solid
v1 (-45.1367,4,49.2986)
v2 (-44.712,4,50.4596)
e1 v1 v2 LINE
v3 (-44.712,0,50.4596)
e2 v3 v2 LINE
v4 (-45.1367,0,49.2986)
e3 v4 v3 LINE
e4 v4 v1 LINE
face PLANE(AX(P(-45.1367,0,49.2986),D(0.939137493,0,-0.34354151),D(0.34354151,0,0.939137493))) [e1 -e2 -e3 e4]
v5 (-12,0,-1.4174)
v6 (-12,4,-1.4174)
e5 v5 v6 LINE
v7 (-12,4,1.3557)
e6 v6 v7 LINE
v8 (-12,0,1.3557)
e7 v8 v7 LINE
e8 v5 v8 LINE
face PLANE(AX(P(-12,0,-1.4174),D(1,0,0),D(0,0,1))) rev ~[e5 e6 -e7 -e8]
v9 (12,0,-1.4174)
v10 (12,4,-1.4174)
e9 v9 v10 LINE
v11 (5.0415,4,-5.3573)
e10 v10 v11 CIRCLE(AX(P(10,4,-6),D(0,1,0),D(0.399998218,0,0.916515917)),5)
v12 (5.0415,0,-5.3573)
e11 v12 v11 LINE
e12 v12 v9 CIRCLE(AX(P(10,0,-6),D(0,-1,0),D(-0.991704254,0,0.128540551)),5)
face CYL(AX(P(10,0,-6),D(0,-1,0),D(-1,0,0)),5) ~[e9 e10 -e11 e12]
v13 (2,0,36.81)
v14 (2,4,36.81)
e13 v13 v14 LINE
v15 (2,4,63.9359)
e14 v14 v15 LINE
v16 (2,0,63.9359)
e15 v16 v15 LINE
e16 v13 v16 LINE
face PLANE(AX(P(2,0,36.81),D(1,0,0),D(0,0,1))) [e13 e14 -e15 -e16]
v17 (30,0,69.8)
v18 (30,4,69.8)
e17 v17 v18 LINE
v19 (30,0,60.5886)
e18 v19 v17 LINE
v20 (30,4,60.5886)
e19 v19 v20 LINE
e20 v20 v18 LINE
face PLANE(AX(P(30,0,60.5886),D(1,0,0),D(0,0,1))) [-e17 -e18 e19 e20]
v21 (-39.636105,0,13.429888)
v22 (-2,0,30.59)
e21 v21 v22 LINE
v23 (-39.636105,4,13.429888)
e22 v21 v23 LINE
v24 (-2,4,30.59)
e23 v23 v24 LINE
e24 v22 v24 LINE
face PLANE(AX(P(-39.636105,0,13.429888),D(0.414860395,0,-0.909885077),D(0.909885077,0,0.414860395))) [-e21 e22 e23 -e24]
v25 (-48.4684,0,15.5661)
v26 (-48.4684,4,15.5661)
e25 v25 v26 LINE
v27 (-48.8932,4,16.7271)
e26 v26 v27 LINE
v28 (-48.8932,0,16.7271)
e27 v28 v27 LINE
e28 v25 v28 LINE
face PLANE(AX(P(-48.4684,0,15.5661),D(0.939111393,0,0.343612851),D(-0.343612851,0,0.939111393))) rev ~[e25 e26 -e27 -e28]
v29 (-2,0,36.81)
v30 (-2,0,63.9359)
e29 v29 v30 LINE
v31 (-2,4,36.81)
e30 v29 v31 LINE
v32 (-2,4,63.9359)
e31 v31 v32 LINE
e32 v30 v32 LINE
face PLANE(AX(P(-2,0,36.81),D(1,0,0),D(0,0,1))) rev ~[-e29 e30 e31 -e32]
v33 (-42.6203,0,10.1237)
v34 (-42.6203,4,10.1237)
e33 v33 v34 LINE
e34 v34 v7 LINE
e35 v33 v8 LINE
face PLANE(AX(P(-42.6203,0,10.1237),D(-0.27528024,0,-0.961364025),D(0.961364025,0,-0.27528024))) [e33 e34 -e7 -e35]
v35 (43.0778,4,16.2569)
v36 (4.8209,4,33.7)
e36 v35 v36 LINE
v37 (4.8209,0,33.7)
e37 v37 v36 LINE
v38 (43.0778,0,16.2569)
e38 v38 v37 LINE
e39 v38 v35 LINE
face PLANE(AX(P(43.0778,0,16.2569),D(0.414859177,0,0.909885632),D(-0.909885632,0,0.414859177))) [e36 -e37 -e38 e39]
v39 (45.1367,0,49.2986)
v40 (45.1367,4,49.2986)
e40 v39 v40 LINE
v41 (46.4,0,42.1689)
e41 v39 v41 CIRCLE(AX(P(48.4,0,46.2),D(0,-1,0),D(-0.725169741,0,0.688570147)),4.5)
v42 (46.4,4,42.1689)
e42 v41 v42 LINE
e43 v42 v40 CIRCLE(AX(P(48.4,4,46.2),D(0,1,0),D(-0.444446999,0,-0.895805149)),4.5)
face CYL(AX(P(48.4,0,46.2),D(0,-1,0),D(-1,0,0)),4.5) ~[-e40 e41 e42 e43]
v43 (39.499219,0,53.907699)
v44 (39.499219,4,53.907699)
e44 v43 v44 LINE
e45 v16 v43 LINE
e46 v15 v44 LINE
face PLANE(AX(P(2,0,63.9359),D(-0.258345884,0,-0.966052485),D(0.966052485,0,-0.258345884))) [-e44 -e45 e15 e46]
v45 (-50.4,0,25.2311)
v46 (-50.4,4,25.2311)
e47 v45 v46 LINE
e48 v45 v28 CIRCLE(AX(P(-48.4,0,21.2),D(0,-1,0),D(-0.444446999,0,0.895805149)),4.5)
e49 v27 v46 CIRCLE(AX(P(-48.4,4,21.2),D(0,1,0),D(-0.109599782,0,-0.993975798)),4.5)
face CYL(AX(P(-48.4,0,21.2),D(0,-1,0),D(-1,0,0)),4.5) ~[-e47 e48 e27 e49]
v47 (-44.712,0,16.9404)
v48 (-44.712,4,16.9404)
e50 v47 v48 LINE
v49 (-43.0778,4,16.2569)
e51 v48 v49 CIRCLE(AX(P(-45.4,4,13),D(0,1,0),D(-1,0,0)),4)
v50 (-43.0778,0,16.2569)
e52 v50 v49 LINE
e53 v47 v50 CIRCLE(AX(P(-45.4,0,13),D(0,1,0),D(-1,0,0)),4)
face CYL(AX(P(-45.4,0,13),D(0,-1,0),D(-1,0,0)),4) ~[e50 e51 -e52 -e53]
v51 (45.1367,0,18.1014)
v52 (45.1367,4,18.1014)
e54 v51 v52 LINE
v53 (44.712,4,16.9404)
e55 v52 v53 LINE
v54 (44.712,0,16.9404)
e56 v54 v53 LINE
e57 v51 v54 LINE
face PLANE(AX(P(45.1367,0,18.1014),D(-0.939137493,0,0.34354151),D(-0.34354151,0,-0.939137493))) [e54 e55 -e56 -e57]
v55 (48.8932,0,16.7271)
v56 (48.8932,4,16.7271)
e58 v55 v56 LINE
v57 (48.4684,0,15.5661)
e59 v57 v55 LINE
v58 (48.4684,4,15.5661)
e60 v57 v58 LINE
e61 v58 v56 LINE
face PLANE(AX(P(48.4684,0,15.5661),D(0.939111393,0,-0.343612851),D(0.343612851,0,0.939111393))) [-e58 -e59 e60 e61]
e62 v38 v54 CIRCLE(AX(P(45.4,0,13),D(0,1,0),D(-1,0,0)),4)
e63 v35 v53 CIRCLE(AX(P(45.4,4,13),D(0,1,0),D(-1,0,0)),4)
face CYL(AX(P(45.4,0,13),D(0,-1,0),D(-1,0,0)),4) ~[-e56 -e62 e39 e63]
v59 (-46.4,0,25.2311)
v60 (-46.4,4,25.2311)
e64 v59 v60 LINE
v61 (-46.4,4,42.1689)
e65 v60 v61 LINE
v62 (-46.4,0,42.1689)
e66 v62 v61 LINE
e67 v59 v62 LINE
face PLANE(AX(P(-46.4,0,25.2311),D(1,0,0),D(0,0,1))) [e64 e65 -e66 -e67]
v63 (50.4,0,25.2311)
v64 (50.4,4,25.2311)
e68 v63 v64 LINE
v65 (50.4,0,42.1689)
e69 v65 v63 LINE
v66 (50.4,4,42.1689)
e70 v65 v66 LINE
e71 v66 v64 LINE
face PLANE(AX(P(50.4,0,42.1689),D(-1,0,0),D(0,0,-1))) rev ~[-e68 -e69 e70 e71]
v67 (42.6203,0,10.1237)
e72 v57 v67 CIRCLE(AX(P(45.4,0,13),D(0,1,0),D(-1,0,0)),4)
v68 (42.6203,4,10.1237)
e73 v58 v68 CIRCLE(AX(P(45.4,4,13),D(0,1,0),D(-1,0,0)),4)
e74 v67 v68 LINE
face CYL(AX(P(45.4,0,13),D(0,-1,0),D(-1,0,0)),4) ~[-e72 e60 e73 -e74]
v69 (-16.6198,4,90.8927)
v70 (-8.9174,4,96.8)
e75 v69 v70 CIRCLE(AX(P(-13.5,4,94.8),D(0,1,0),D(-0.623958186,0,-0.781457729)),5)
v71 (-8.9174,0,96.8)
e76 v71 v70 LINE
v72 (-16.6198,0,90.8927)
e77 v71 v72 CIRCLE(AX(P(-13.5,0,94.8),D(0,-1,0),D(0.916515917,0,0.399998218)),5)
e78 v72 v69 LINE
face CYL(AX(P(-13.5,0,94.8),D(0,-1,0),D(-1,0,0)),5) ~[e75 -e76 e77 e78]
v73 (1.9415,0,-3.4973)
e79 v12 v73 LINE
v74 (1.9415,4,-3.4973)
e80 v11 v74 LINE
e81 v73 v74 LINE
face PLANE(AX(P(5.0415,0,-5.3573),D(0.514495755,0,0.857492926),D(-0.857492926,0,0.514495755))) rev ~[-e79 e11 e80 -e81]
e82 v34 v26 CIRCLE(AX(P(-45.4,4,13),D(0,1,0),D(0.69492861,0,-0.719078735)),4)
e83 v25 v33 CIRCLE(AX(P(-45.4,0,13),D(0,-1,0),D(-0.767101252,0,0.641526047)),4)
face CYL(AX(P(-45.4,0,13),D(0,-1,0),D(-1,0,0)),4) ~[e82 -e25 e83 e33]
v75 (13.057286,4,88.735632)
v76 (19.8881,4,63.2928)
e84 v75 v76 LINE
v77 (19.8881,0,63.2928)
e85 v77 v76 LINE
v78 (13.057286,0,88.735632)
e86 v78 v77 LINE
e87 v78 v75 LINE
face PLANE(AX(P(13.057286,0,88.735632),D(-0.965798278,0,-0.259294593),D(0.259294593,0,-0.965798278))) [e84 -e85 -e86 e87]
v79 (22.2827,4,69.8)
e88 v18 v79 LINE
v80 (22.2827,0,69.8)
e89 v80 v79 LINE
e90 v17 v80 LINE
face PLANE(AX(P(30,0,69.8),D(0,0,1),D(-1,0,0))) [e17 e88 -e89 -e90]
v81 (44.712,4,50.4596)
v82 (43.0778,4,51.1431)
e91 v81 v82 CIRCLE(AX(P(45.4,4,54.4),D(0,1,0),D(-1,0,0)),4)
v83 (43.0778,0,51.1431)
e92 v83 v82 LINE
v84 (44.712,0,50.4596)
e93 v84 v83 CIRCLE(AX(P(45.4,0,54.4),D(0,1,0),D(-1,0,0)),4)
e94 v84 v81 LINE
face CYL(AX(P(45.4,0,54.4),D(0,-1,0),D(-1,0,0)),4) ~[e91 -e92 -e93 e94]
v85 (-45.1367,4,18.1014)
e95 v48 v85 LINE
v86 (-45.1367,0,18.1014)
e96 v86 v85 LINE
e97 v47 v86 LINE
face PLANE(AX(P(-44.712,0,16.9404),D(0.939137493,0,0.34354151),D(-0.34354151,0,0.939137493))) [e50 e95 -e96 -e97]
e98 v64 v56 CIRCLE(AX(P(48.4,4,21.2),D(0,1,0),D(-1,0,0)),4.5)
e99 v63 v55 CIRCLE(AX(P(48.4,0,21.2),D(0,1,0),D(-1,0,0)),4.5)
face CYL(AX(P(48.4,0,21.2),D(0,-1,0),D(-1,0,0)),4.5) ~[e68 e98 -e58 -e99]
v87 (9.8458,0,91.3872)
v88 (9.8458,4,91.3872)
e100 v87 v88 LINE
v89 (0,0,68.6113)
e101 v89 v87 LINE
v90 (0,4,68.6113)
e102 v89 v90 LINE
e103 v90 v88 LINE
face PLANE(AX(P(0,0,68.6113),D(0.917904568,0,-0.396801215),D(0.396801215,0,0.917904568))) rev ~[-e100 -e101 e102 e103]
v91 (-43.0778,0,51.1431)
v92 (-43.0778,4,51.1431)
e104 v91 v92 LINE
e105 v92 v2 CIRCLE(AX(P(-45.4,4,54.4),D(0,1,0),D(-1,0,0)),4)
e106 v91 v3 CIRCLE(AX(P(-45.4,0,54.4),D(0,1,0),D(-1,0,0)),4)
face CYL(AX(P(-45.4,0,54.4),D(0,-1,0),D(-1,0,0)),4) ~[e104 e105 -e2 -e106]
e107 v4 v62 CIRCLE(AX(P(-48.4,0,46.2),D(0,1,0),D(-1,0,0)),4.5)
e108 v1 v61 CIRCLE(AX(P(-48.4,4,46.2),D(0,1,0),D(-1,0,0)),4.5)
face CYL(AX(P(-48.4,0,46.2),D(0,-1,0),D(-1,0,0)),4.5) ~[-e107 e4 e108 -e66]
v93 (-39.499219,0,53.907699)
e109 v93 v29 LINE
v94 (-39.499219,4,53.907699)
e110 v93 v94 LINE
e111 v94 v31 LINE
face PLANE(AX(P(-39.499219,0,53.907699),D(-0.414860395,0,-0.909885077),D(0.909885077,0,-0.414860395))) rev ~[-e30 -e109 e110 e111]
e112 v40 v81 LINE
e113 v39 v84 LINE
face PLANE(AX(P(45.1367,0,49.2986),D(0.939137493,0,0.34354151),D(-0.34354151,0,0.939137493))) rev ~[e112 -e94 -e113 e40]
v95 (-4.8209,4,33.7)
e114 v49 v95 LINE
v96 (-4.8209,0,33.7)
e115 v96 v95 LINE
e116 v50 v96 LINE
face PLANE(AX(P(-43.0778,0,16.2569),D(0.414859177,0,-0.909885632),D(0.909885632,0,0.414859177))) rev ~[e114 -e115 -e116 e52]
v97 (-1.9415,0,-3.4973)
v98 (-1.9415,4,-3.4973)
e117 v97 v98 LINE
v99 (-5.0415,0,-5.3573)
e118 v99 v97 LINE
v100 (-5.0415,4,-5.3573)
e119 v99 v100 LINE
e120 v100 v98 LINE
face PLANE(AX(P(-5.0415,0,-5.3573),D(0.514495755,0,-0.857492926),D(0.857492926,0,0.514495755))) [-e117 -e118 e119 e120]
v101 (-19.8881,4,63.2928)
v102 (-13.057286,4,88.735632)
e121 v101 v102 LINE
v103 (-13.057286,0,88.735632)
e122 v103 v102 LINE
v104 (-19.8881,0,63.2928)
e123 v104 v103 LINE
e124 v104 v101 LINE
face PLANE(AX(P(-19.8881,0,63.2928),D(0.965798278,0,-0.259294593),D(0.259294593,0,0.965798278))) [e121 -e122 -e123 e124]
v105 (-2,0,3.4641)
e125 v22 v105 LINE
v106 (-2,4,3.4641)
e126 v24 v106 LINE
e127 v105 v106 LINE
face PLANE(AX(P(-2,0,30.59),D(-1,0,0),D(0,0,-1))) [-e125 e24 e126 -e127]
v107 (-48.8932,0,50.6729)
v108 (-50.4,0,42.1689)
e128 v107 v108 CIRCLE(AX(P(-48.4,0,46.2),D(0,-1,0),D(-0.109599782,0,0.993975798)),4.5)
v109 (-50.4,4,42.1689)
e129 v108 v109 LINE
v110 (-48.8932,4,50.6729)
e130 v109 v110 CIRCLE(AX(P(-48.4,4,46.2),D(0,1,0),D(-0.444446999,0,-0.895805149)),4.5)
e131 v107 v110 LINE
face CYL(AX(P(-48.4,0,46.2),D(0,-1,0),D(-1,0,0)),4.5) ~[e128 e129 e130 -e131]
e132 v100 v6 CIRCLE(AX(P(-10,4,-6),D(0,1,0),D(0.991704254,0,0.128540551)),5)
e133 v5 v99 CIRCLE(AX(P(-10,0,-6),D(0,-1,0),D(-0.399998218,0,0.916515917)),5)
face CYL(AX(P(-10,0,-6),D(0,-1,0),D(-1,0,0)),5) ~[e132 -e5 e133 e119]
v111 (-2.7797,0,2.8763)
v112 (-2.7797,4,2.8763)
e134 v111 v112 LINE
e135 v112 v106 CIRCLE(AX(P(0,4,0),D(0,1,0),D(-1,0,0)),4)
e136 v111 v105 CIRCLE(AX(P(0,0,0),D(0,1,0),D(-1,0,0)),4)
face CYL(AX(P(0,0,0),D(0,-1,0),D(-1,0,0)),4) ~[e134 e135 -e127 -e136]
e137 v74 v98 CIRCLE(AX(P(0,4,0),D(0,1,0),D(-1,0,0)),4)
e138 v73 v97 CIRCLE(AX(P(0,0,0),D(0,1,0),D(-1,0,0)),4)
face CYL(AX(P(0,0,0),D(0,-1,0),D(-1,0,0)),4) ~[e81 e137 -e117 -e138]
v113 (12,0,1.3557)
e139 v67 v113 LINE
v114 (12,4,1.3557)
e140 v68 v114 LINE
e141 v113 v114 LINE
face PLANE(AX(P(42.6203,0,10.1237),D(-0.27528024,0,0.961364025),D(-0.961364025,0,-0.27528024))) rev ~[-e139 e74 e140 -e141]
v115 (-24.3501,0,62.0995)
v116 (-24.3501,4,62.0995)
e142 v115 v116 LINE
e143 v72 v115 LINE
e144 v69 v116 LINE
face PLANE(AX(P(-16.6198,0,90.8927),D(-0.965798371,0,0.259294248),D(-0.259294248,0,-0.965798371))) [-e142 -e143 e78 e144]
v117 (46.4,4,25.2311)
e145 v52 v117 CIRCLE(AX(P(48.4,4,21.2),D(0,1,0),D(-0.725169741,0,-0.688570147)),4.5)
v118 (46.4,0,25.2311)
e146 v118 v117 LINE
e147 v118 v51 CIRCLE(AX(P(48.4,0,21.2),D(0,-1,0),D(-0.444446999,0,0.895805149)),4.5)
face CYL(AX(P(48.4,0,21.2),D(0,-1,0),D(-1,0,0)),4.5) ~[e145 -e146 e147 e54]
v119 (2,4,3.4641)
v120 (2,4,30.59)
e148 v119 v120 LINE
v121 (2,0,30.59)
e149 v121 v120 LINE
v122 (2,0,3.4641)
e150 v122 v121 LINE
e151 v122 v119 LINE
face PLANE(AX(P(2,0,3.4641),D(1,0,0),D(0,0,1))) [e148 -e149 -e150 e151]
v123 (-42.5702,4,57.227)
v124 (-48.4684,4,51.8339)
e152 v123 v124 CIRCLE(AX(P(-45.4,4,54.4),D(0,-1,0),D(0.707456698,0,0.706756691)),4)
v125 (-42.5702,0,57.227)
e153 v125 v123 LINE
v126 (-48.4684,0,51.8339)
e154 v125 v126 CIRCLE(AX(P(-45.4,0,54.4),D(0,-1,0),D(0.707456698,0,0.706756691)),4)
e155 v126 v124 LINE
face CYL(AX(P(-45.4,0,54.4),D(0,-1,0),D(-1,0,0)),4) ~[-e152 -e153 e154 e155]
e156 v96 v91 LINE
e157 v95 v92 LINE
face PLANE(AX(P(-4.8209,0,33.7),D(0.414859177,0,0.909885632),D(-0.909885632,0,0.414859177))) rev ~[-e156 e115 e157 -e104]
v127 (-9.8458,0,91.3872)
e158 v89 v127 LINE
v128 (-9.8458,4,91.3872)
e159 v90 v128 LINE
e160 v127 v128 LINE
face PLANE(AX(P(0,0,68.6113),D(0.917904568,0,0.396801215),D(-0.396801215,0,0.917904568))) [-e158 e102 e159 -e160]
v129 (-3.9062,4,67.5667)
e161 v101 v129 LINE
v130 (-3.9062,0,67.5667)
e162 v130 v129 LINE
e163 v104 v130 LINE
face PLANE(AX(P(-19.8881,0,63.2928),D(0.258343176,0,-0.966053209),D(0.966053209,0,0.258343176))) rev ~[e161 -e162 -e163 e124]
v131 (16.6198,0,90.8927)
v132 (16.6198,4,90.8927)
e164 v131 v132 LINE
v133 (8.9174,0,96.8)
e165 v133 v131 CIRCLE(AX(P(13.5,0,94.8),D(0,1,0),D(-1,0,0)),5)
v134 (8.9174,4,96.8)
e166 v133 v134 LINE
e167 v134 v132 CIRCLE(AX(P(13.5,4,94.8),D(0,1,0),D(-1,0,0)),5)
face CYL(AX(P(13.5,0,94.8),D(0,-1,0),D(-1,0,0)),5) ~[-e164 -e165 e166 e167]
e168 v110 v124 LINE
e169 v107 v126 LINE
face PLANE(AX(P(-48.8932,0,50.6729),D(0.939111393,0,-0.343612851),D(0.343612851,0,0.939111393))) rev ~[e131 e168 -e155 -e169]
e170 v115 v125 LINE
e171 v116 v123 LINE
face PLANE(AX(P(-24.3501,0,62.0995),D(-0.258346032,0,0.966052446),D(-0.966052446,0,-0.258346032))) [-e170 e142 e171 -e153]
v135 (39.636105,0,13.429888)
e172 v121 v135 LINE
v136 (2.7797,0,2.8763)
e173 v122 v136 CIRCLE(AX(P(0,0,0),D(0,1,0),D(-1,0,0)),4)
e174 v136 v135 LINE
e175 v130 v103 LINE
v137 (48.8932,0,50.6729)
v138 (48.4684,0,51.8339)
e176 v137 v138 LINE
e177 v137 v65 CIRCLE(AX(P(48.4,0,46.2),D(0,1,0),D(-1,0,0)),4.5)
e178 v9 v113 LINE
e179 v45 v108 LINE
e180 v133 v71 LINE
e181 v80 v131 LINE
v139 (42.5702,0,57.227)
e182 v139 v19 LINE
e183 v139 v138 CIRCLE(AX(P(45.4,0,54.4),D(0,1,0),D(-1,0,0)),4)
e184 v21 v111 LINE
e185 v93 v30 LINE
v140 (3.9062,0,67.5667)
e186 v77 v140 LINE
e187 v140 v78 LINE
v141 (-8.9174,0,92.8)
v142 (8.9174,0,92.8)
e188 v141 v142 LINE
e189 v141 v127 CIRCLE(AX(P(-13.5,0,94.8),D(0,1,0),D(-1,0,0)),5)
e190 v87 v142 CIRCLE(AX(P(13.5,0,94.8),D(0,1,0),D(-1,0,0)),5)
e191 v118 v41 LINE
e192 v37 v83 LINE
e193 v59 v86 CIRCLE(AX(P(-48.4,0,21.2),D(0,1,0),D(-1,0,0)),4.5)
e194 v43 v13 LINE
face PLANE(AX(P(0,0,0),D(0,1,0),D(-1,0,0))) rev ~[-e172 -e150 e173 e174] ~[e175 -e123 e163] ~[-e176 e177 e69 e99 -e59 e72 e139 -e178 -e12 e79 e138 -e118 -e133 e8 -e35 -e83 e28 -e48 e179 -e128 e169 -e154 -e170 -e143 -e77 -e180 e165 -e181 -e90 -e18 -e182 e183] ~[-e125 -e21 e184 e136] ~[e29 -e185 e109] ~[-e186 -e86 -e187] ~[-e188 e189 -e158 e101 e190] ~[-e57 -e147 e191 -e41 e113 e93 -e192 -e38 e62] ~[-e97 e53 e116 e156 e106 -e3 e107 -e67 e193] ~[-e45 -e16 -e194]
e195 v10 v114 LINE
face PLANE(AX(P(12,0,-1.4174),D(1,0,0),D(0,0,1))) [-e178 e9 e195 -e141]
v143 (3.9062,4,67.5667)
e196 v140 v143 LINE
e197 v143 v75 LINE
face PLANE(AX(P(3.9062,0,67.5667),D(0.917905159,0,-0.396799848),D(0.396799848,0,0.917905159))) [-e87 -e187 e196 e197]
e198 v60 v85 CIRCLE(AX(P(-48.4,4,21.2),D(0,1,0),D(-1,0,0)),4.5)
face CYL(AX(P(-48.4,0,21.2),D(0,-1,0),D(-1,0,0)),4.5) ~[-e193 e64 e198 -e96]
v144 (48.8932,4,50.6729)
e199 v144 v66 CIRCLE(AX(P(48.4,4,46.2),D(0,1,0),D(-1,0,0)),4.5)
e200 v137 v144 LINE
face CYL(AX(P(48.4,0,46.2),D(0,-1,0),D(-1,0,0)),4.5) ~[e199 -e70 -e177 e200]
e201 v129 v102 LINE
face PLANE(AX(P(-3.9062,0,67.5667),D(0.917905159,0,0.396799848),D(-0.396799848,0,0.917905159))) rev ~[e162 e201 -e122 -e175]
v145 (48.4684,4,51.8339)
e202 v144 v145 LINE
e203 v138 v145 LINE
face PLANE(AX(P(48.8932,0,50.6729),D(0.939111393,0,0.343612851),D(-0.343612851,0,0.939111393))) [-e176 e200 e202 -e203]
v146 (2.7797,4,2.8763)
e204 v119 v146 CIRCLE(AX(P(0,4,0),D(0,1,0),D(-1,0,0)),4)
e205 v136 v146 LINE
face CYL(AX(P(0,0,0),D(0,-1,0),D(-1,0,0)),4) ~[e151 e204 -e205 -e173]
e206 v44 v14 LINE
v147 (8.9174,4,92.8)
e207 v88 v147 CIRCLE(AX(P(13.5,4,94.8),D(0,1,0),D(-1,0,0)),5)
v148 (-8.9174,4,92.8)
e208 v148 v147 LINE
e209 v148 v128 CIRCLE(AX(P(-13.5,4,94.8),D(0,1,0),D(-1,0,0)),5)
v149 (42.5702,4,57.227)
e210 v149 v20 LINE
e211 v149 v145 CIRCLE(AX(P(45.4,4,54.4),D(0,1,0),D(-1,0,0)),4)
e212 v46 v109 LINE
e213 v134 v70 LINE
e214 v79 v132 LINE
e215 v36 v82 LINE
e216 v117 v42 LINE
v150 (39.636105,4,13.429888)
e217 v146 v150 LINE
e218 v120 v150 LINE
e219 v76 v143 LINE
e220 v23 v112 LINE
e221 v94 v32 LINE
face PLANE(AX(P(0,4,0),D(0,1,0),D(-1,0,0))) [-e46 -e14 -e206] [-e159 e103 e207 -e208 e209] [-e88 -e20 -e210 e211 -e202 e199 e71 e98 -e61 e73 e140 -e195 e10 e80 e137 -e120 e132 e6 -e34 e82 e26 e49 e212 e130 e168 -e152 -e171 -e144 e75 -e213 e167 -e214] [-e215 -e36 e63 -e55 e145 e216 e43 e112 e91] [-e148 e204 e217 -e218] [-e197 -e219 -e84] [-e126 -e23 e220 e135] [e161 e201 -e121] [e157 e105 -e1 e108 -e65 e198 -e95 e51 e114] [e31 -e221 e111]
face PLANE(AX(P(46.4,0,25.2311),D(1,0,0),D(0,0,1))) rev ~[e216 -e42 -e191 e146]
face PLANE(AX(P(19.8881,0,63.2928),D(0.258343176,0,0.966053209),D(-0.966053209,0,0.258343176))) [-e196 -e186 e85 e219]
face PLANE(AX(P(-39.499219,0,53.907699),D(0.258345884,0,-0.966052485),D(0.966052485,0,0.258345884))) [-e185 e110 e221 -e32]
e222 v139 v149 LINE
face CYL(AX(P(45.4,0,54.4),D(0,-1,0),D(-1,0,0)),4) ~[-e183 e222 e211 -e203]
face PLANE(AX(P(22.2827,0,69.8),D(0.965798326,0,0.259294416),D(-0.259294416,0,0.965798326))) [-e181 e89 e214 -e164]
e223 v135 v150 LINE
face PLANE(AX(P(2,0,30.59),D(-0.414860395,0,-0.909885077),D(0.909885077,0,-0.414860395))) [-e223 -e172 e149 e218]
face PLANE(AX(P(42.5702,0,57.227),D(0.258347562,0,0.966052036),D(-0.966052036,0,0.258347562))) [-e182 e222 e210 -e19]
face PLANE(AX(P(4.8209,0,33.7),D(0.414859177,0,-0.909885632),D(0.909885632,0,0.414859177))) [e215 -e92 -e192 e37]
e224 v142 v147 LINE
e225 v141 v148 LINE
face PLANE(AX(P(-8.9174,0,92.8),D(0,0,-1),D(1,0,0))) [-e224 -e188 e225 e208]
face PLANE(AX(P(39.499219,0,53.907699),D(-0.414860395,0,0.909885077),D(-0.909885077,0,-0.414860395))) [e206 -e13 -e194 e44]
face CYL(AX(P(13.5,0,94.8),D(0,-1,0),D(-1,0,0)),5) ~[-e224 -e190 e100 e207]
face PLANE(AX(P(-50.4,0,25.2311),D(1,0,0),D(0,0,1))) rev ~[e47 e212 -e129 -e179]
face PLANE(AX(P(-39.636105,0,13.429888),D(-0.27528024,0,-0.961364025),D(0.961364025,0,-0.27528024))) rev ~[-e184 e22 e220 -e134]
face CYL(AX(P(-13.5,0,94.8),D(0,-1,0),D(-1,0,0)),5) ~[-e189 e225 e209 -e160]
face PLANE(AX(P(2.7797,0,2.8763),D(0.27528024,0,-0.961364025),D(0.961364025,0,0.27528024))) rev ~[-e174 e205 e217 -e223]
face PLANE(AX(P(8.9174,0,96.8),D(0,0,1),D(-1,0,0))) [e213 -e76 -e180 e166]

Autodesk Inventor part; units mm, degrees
ref_plane "YZ Plane" through (0, 0, 0) normal (1, 0, 0) x (0, 1, 0)
ref_plane "XZ Plane" through (0, 0, 0) normal (0, 1, 0) x (-1, 0, 0)
ref_plane "XY Plane" through (0, 0, 0) normal (0, 0, 1) x (1, 0, 0)
sketch "Sketch1" plane through (0, 0, 0) normal (0, 1, 0) x (-1, 0, 0)
  circle A0 centre (30.4866, -33.5844) radius 1.55
  circle A1 centre (30.4866, -82.5844) radius 1.55
  circle A2 centre (-31.5134, -77.3344) radius 1.55
  circle A3 centre (-31.5134, -38.8344) radius 1.55
  circle A4 centre (30.4866, -33.5844) radius 5
  circle A5 centre (30.4866, -82.5844) radius 5
  circle A6 centre (-31.5134, -77.3344) radius 5
  circle A7 centre (-31.5134, -38.8344) radius 5
  line L0 (43, 55.7856) -> (45.4, 57.1713)
  line L1 (45.4, 57.1713) -> (47.8, 55.7856)
  line L2 (47.8, 55.7856) -> (47.8, 53.0144)
  line L3 (47.8, 53.0144) -> (45.4, 51.6287)
  line L4 (45.4, 51.6287) -> (43, 53.0144)
  line L5 (43, 53.0144) -> (43, 55.7856)
  line L6 (47.8, 14.3856) -> (47.8, 11.6144)
  line L7 (47.8, 11.6144) -> (45.4, 10.2287)
  line L8 (45.4, 10.2287) -> (43, 11.6144)
  line L9 (43, 11.6144) -> (43, 14.3856)
  line L10 (43, 14.3856) -> (45.4, 15.7713)
  line L11 (45.4, 15.7713) -> (47.8, 14.3856)
  line L12 (-43, 55.7856) -> (-43, 53.0144)
  line L13 (-43, 53.0144) -> (-45.4, 51.6287)
  line L14 (-45.4, 51.6287) -> (-47.8, 53.0144)
  line L15 (-47.8, 53.0144) -> (-47.8, 55.7856)
  line L16 (-47.8, 55.7856) -> (-45.4, 57.1713)
  line L17 (-45.4, 57.1713) -> (-43, 55.7856)
  line L18 (-1.3856, 2.4) -> (1.3856, 2.4)
  line L19 (1.3856, 2.4) -> (2.7713, 0)
  line L20 (2.7713, 0) -> (1.3856, -2.4)
  line L21 (1.3856, -2.4) -> (-1.3856, -2.4)
  line L22 (-1.3856, -2.4) -> (-2.7713, 0)
  line L23 (-2.7713, 0) -> (-1.3856, 2.4)
  line L24 (-45.4, 15.7713) -> (-43, 14.3856)
  line L25 (-43, 14.3856) -> (-43, 11.6144)
  line L26 (-43, 11.6144) -> (-45.4, 10.2287)
  line L27 (-45.4, 10.2287) -> (-47.8, 11.6144)
  line L28 (-47.8, 11.6144) -> (-47.8, 14.3856)
  line L29 (-47.8, 14.3856) -> (-45.4, 15.7713)
  circle A8 centre (45.4, 54.4) radius 4
  circle A9 centre (-45.4, 54.4) radius 4
  circle A10 centre (45.4, 13) radius 4
  circle A11 centre (-45.4, 13) radius 4
  circle A12 centre (0, 0) radius 4
  line L30 (43.0778, 16.2569) -> (4.8209, 33.7)
  line L31 (4.8209, 33.7) -> (43.0778, 51.1431)
  line L32 (41.4183, 54.7827) -> (2, 36.81)
  line L33 (2, 36.81) -> (2, 63.9359)
  line L34 (41.4183, 12.6173) -> (2, 30.59)
  line L35 (2, 30.59) -> (2, 3.4641)
  line L36 (-2, 3.4641) -> (-2, 30.59)
  line L37 (-2, 30.59) -> (-41.4183, 12.6173)
  line L38 (-43.0778, 16.2569) -> (-4.8209, 33.7)
  line L39 (-4.8209, 33.7) -> (-43.0778, 51.1431)
  line L40 (-41.4183, 54.7827) -> (-2, 36.81)
  line L41 (-2, 36.81) -> (-2, 63.9359)
  line L42 (42.6203, 10.1237) -> (3.8808, -0.9691)
  line L43 (-2.7797, 2.8763) -> (-41.5192, 13.9691)
  line L44 (-42.6203, 10.1237) -> (-3.8808, -0.9691)
  line L45 (41.5192, 13.9691) -> (2.7797, 2.8763)
  line L46 (46.7546, 43.35) -> (45.1091, 46.2)
  line L47 (45.1091, 46.2) -> (46.7546, 49.05)
  line L48 (46.7546, 49.05) -> (50.0454, 49.05)
  line L49 (50.0454, 49.05) -> (51.6909, 46.2)
  line L50 (51.6909, 46.2) -> (50.0454, 43.35)
  line L51 (50.0454, 43.35) -> (46.7546, 43.35)
  line L52 (46.7546, 24.05) -> (50.0454, 24.05)
  line L53 (50.0454, 24.05) -> (51.6909, 21.2)
  line L54 (51.6909, 21.2) -> (50.0454, 18.35)
  line L55 (50.0454, 18.35) -> (46.7546, 18.35)
  line L56 (46.7546, 18.35) -> (45.1091, 21.2)
  line L57 (45.1091, 21.2) -> (46.7546, 24.05)
  line L58 (-51.6909, 21.2) -> (-50.0454, 24.05)
  line L59 (-50.0454, 24.05) -> (-46.7546, 24.05)
  line L60 (-46.7546, 24.05) -> (-45.1091, 21.2)
  line L61 (-45.1091, 21.2) -> (-46.7546, 18.35)
  line L62 (-46.7546, 18.35) -> (-50.0454, 18.35)
  line L63 (-50.0454, 18.35) -> (-51.6909, 21.2)
  line L64 (-51.6909, 46.2) -> (-50.0454, 49.05)
  line L65 (-50.0454, 49.05) -> (-46.7546, 49.05)
  line L66 (-46.7546, 49.05) -> (-45.1091, 46.2)
  line L67 (-45.1091, 46.2) -> (-46.7546, 43.35)
  line L68 (-46.7546, 43.35) -> (-50.0454, 43.35)
  line L69 (-50.0454, 43.35) -> (-51.6909, 46.2)
  line L70 (41.5368, 53.3628) -> (2, 63.9359)
  line L71 (-2, 63.9359) -> (-41.5368, 53.3628)
  line L72 (-42.5702, 57.227) -> (-30, 60.5886)
  line L73 (-30, 60.5886) -> (-30, 69.8)
  line L74 (-30, 69.8) -> (-22.2827, 69.8)
  line L75 (-22.2827, 69.8) -> (-16.6198, 90.8927)
  line L76 (16.6198, 90.8927) -> (24.3501, 62.0995)
  line L77 (24.3501, 62.0995) -> (42.5702, 57.227)
  line L78 (-11.8546, 91.95) -> (-15.1454, 91.95)
  line L79 (-15.1454, 91.95) -> (-16.7909, 94.8)
  line L80 (-16.7909, 94.8) -> (-15.1454, 97.65)
  line L81 (-15.1454, 97.65) -> (-11.8546, 97.65)
  line L82 (-11.8546, 97.65) -> (-10.2091, 94.8)
  line L83 (-10.2091, 94.8) -> (-11.8546, 91.95)
  line L84 (16.7909, 94.8) -> (15.1454, 91.95)
  line L85 (15.1454, 91.95) -> (11.8546, 91.95)
  line L86 (11.8546, 91.95) -> (10.2091, 94.8)
  line L87 (10.2091, 94.8) -> (11.8546, 97.65)
  line L88 (11.8546, 97.65) -> (15.1454, 97.65)
  line L89 (15.1454, 97.65) -> (16.7909, 94.8)
  line L90 (19.8881, 63.2928) -> (12.7566, 89.8556)
  line L91 (-12.7566, 89.8556) -> (-19.8881, 63.2928)
  line L92 (-19.8881, 63.2928) -> (-3.9062, 67.5667)
  line L93 (-3.9062, 67.5667) -> (-13.5174, 89.8)
  line L94 (19.8881, 63.2928) -> (3.9062, 67.5667)
  line L95 (3.9062, 67.5667) -> (13.5174, 89.8)
  line L96 (0, 68.6113) -> (9.8458, 91.3872)
  line L97 (0, 68.6113) -> (-9.8458, 91.3872)
  circle A13 centre (48.4, 21.2) radius 4.5
  circle A14 centre (48.4, 46.2) radius 4.5
  circle A15 centre (-48.4, 46.2) radius 4.5
  circle A16 centre (-48.4, 21.2) radius 4.5
  line L98 (50.4, 25.2311) -> (50.4, 42.1689)
  line L99 (46.4, 25.2311) -> (46.4, 42.1689)
  line L100 (48.4684, 15.5661) -> (48.8932, 16.7271)
  line L101 (44.712, 16.9404) -> (45.1367, 18.1014)
  line L102 (48.8932, 50.6729) -> (48.4684, 51.8339)
  line L103 (45.1367, 49.2986) -> (44.712, 50.4596)
  line L104 (-48.8932, 50.6729) -> (-48.4684, 51.8339)
  line L105 (-46.4, 25.2311) -> (-46.4, 42.1689)
  line L106 (-50.4, 42.1689) -> (-50.4, 25.2311)
  line L107 (-45.1367, 18.1014) -> (-44.712, 16.9404)
  line L108 (-48.4684, 15.5661) -> (-48.8932, 16.7271)
  line L109 (-45.1367, 49.2986) -> (-44.712, 50.4596)
  circle A17 centre (13.5, 94.8) radius 5
  circle A18 centre (-13.5, 94.8) radius 5
  line L110 (8.9174, 92.8) -> (-8.9174, 92.8)
  line L111 (-8.9174, 96.8) -> (8.9174, 96.8)
  line L112 (8.3546, -8.85) -> (6.7091, -6)
  line L113 (6.7091, -6) -> (8.3546, -3.15)
  line L114 (8.3546, -3.15) -> (11.6454, -3.15)
  line L115 (11.6454, -3.15) -> (13.2909, -6)
  line L116 (13.2909, -6) -> (11.6454, -8.85)
  line L117 (11.6454, -8.85) -> (8.3546, -8.85)
  line L118 (-11.6454, -3.15) -> (-8.3546, -3.15)
  line L119 (-8.3546, -3.15) -> (-6.7091, -6)
  line L120 (-6.7091, -6) -> (-8.3546, -8.85)
  line L121 (-8.3546, -8.85) -> (-11.6454, -8.85)
  line L122 (-11.6454, -8.85) -> (-13.2909, -6)
  line L123 (-13.2909, -6) -> (-11.6454, -3.15)
  circle A19 centre (10, -6) radius 5
  circle A20 centre (-10, -6) radius 5
  line L124 (5.0415, -5.3573) -> (1.9415, -3.4973)
  line L125 (-5.0415, -5.3573) -> (-1.9415, -3.4973)
  line L126 (-12, -1.4174) -> (-12, 1.3557)
  line L127 (12, -1.4174) -> (12, 1.3557)
  point P0 (0, 92.8)
  point P1 (-39.6361, 13.4299)
  point P2 (-13.0573, 88.7356)
  point P3 (13.0573, 88.7356)
  point P4 (-39.4993, 53.9077)
  point P5 (39.6361, 13.4299)
  point P6 (39.4993, 53.9077)
  dimension "d37" = 8
  dimension "d1" = 3.1
  dimension "d2" = 49
  dimension "d3" = 62
  dimension "d5" = 5.25
  dimension "d6" = 5.25
  dimension "d7" = 10
  dimension "d13" = 13
  dimension "d14" = 90.8
  dimension "d15" = 45.4
  dimension "d17" = 4
  dimension "d18" = 4
  dimension "d19" = 4
  dimension "d20" = 2
  dimension "d21" = 2
  dimension "d22" = 2
  dimension "d23" = 2
  dimension "d24" = 2
  dimension "d25" = 4
  dimension "d26" = 2
  dimension "d27" = 2
  dimension "d30" = 4
  dimension "d31" = 2
  dimension "d32" = 2
  dimension "d35" = 5.7
  dimension "d36" = 25
  dimension "d38" = 4.8
  dimension "d39" = 69.8
  dimension "d40" = 15.4
  dimension "d41" = 4
  dimension "d42" = 4
  dimension "d43" = 2
  dimension "d44" = 2
  dimension "d48" = 30
  dimension "d49" = 27
  dimension "d51" = 3
  dimension "d52" = 3
  dimension "d53" = 4
  dimension "d55" = 4
  dimension "d56" = 4
  dimension "d57" = 4
  dimension "d65" = 8.2
  dimension "d66" = 9
  dimension "d67" = 4
  dimension "d68" = 2
  dimension "d69" = 4
  dimension "d70" = 2
  dimension "d71" = 2
  dimension "d72" = 4
  dimension "d73" = 2
  dimension "d74" = 2
  dimension "d75" = 4
  dimension "d76" = 2
  dimension "d77" = 2
  dimension "d78" = 4
  dimension "d79" = 2
  dimension "d80" = 4
  dimension "d81" = 2
  dimension "d82" = 10
  dimension "d83" = 4
  dimension "d84" = 2
  dimension "d85" = 27
  dimension "d86" = 2
  dimension "d87" = 2
  dimension "d88" = 2
extrude "Extrusion1" add sketch "Sketch1" along normal blind 4 contours L0 L1 L2 L3 L4 L5 | L6 L7 L8 L9 L10 L11 | L12 L13 L14 L15 L16 L17 | L18 L19 L20 L21 L22 L23 | L24 L25 L26 L27 L28 L29 | A8 | A8 L32 L70 L31 L30 A10 L45 L34 L35 A12 L36 L37 L43 A11 L38 L39 A9 L71 L40 L72 L73 L74 L75 A18 L93 L91 L97 L96 A17 L90 L95 L76 L77 | L102 A14 L103 A8 | A8 L70 L32 | A14 | A17 | L95 L90 A17 | A14 L98 A13 L99 | A17 L110 A18 L111 | A10 | A13 | A18 | L101 A13 L100 A10 | A10 L34 L45 | A10 L42 A12 L45 L34 | A18 L91 L93 | A12 | L127 A19 L124 A12 L42 | A19 | A9 | A12 L44 A11 L37 L43 | L40 L71 A9 | A9 L109 A15 L104 | L125 A20 L126 L44 A12 | L37 A11 L43 | A15 | A20 | A11 | A15 L105 A16 L106 | A16 | L108 A16 L107 A11 | L46 L47 L48 L49 L50 L51 | L52 L53 L54 L55 L56 L57 | L58 L59 L60 L61 L62 L63 | L64 L65 L66 L67 L68 L69 | L78 L79 L80 L81 L82 L83 | L84 L85 L86 L87 L88 L89 | L112 L113 L114 L115 L116 L117 | L118 L119 L120 L121 L122 L123
properties part number "v2chassis"
